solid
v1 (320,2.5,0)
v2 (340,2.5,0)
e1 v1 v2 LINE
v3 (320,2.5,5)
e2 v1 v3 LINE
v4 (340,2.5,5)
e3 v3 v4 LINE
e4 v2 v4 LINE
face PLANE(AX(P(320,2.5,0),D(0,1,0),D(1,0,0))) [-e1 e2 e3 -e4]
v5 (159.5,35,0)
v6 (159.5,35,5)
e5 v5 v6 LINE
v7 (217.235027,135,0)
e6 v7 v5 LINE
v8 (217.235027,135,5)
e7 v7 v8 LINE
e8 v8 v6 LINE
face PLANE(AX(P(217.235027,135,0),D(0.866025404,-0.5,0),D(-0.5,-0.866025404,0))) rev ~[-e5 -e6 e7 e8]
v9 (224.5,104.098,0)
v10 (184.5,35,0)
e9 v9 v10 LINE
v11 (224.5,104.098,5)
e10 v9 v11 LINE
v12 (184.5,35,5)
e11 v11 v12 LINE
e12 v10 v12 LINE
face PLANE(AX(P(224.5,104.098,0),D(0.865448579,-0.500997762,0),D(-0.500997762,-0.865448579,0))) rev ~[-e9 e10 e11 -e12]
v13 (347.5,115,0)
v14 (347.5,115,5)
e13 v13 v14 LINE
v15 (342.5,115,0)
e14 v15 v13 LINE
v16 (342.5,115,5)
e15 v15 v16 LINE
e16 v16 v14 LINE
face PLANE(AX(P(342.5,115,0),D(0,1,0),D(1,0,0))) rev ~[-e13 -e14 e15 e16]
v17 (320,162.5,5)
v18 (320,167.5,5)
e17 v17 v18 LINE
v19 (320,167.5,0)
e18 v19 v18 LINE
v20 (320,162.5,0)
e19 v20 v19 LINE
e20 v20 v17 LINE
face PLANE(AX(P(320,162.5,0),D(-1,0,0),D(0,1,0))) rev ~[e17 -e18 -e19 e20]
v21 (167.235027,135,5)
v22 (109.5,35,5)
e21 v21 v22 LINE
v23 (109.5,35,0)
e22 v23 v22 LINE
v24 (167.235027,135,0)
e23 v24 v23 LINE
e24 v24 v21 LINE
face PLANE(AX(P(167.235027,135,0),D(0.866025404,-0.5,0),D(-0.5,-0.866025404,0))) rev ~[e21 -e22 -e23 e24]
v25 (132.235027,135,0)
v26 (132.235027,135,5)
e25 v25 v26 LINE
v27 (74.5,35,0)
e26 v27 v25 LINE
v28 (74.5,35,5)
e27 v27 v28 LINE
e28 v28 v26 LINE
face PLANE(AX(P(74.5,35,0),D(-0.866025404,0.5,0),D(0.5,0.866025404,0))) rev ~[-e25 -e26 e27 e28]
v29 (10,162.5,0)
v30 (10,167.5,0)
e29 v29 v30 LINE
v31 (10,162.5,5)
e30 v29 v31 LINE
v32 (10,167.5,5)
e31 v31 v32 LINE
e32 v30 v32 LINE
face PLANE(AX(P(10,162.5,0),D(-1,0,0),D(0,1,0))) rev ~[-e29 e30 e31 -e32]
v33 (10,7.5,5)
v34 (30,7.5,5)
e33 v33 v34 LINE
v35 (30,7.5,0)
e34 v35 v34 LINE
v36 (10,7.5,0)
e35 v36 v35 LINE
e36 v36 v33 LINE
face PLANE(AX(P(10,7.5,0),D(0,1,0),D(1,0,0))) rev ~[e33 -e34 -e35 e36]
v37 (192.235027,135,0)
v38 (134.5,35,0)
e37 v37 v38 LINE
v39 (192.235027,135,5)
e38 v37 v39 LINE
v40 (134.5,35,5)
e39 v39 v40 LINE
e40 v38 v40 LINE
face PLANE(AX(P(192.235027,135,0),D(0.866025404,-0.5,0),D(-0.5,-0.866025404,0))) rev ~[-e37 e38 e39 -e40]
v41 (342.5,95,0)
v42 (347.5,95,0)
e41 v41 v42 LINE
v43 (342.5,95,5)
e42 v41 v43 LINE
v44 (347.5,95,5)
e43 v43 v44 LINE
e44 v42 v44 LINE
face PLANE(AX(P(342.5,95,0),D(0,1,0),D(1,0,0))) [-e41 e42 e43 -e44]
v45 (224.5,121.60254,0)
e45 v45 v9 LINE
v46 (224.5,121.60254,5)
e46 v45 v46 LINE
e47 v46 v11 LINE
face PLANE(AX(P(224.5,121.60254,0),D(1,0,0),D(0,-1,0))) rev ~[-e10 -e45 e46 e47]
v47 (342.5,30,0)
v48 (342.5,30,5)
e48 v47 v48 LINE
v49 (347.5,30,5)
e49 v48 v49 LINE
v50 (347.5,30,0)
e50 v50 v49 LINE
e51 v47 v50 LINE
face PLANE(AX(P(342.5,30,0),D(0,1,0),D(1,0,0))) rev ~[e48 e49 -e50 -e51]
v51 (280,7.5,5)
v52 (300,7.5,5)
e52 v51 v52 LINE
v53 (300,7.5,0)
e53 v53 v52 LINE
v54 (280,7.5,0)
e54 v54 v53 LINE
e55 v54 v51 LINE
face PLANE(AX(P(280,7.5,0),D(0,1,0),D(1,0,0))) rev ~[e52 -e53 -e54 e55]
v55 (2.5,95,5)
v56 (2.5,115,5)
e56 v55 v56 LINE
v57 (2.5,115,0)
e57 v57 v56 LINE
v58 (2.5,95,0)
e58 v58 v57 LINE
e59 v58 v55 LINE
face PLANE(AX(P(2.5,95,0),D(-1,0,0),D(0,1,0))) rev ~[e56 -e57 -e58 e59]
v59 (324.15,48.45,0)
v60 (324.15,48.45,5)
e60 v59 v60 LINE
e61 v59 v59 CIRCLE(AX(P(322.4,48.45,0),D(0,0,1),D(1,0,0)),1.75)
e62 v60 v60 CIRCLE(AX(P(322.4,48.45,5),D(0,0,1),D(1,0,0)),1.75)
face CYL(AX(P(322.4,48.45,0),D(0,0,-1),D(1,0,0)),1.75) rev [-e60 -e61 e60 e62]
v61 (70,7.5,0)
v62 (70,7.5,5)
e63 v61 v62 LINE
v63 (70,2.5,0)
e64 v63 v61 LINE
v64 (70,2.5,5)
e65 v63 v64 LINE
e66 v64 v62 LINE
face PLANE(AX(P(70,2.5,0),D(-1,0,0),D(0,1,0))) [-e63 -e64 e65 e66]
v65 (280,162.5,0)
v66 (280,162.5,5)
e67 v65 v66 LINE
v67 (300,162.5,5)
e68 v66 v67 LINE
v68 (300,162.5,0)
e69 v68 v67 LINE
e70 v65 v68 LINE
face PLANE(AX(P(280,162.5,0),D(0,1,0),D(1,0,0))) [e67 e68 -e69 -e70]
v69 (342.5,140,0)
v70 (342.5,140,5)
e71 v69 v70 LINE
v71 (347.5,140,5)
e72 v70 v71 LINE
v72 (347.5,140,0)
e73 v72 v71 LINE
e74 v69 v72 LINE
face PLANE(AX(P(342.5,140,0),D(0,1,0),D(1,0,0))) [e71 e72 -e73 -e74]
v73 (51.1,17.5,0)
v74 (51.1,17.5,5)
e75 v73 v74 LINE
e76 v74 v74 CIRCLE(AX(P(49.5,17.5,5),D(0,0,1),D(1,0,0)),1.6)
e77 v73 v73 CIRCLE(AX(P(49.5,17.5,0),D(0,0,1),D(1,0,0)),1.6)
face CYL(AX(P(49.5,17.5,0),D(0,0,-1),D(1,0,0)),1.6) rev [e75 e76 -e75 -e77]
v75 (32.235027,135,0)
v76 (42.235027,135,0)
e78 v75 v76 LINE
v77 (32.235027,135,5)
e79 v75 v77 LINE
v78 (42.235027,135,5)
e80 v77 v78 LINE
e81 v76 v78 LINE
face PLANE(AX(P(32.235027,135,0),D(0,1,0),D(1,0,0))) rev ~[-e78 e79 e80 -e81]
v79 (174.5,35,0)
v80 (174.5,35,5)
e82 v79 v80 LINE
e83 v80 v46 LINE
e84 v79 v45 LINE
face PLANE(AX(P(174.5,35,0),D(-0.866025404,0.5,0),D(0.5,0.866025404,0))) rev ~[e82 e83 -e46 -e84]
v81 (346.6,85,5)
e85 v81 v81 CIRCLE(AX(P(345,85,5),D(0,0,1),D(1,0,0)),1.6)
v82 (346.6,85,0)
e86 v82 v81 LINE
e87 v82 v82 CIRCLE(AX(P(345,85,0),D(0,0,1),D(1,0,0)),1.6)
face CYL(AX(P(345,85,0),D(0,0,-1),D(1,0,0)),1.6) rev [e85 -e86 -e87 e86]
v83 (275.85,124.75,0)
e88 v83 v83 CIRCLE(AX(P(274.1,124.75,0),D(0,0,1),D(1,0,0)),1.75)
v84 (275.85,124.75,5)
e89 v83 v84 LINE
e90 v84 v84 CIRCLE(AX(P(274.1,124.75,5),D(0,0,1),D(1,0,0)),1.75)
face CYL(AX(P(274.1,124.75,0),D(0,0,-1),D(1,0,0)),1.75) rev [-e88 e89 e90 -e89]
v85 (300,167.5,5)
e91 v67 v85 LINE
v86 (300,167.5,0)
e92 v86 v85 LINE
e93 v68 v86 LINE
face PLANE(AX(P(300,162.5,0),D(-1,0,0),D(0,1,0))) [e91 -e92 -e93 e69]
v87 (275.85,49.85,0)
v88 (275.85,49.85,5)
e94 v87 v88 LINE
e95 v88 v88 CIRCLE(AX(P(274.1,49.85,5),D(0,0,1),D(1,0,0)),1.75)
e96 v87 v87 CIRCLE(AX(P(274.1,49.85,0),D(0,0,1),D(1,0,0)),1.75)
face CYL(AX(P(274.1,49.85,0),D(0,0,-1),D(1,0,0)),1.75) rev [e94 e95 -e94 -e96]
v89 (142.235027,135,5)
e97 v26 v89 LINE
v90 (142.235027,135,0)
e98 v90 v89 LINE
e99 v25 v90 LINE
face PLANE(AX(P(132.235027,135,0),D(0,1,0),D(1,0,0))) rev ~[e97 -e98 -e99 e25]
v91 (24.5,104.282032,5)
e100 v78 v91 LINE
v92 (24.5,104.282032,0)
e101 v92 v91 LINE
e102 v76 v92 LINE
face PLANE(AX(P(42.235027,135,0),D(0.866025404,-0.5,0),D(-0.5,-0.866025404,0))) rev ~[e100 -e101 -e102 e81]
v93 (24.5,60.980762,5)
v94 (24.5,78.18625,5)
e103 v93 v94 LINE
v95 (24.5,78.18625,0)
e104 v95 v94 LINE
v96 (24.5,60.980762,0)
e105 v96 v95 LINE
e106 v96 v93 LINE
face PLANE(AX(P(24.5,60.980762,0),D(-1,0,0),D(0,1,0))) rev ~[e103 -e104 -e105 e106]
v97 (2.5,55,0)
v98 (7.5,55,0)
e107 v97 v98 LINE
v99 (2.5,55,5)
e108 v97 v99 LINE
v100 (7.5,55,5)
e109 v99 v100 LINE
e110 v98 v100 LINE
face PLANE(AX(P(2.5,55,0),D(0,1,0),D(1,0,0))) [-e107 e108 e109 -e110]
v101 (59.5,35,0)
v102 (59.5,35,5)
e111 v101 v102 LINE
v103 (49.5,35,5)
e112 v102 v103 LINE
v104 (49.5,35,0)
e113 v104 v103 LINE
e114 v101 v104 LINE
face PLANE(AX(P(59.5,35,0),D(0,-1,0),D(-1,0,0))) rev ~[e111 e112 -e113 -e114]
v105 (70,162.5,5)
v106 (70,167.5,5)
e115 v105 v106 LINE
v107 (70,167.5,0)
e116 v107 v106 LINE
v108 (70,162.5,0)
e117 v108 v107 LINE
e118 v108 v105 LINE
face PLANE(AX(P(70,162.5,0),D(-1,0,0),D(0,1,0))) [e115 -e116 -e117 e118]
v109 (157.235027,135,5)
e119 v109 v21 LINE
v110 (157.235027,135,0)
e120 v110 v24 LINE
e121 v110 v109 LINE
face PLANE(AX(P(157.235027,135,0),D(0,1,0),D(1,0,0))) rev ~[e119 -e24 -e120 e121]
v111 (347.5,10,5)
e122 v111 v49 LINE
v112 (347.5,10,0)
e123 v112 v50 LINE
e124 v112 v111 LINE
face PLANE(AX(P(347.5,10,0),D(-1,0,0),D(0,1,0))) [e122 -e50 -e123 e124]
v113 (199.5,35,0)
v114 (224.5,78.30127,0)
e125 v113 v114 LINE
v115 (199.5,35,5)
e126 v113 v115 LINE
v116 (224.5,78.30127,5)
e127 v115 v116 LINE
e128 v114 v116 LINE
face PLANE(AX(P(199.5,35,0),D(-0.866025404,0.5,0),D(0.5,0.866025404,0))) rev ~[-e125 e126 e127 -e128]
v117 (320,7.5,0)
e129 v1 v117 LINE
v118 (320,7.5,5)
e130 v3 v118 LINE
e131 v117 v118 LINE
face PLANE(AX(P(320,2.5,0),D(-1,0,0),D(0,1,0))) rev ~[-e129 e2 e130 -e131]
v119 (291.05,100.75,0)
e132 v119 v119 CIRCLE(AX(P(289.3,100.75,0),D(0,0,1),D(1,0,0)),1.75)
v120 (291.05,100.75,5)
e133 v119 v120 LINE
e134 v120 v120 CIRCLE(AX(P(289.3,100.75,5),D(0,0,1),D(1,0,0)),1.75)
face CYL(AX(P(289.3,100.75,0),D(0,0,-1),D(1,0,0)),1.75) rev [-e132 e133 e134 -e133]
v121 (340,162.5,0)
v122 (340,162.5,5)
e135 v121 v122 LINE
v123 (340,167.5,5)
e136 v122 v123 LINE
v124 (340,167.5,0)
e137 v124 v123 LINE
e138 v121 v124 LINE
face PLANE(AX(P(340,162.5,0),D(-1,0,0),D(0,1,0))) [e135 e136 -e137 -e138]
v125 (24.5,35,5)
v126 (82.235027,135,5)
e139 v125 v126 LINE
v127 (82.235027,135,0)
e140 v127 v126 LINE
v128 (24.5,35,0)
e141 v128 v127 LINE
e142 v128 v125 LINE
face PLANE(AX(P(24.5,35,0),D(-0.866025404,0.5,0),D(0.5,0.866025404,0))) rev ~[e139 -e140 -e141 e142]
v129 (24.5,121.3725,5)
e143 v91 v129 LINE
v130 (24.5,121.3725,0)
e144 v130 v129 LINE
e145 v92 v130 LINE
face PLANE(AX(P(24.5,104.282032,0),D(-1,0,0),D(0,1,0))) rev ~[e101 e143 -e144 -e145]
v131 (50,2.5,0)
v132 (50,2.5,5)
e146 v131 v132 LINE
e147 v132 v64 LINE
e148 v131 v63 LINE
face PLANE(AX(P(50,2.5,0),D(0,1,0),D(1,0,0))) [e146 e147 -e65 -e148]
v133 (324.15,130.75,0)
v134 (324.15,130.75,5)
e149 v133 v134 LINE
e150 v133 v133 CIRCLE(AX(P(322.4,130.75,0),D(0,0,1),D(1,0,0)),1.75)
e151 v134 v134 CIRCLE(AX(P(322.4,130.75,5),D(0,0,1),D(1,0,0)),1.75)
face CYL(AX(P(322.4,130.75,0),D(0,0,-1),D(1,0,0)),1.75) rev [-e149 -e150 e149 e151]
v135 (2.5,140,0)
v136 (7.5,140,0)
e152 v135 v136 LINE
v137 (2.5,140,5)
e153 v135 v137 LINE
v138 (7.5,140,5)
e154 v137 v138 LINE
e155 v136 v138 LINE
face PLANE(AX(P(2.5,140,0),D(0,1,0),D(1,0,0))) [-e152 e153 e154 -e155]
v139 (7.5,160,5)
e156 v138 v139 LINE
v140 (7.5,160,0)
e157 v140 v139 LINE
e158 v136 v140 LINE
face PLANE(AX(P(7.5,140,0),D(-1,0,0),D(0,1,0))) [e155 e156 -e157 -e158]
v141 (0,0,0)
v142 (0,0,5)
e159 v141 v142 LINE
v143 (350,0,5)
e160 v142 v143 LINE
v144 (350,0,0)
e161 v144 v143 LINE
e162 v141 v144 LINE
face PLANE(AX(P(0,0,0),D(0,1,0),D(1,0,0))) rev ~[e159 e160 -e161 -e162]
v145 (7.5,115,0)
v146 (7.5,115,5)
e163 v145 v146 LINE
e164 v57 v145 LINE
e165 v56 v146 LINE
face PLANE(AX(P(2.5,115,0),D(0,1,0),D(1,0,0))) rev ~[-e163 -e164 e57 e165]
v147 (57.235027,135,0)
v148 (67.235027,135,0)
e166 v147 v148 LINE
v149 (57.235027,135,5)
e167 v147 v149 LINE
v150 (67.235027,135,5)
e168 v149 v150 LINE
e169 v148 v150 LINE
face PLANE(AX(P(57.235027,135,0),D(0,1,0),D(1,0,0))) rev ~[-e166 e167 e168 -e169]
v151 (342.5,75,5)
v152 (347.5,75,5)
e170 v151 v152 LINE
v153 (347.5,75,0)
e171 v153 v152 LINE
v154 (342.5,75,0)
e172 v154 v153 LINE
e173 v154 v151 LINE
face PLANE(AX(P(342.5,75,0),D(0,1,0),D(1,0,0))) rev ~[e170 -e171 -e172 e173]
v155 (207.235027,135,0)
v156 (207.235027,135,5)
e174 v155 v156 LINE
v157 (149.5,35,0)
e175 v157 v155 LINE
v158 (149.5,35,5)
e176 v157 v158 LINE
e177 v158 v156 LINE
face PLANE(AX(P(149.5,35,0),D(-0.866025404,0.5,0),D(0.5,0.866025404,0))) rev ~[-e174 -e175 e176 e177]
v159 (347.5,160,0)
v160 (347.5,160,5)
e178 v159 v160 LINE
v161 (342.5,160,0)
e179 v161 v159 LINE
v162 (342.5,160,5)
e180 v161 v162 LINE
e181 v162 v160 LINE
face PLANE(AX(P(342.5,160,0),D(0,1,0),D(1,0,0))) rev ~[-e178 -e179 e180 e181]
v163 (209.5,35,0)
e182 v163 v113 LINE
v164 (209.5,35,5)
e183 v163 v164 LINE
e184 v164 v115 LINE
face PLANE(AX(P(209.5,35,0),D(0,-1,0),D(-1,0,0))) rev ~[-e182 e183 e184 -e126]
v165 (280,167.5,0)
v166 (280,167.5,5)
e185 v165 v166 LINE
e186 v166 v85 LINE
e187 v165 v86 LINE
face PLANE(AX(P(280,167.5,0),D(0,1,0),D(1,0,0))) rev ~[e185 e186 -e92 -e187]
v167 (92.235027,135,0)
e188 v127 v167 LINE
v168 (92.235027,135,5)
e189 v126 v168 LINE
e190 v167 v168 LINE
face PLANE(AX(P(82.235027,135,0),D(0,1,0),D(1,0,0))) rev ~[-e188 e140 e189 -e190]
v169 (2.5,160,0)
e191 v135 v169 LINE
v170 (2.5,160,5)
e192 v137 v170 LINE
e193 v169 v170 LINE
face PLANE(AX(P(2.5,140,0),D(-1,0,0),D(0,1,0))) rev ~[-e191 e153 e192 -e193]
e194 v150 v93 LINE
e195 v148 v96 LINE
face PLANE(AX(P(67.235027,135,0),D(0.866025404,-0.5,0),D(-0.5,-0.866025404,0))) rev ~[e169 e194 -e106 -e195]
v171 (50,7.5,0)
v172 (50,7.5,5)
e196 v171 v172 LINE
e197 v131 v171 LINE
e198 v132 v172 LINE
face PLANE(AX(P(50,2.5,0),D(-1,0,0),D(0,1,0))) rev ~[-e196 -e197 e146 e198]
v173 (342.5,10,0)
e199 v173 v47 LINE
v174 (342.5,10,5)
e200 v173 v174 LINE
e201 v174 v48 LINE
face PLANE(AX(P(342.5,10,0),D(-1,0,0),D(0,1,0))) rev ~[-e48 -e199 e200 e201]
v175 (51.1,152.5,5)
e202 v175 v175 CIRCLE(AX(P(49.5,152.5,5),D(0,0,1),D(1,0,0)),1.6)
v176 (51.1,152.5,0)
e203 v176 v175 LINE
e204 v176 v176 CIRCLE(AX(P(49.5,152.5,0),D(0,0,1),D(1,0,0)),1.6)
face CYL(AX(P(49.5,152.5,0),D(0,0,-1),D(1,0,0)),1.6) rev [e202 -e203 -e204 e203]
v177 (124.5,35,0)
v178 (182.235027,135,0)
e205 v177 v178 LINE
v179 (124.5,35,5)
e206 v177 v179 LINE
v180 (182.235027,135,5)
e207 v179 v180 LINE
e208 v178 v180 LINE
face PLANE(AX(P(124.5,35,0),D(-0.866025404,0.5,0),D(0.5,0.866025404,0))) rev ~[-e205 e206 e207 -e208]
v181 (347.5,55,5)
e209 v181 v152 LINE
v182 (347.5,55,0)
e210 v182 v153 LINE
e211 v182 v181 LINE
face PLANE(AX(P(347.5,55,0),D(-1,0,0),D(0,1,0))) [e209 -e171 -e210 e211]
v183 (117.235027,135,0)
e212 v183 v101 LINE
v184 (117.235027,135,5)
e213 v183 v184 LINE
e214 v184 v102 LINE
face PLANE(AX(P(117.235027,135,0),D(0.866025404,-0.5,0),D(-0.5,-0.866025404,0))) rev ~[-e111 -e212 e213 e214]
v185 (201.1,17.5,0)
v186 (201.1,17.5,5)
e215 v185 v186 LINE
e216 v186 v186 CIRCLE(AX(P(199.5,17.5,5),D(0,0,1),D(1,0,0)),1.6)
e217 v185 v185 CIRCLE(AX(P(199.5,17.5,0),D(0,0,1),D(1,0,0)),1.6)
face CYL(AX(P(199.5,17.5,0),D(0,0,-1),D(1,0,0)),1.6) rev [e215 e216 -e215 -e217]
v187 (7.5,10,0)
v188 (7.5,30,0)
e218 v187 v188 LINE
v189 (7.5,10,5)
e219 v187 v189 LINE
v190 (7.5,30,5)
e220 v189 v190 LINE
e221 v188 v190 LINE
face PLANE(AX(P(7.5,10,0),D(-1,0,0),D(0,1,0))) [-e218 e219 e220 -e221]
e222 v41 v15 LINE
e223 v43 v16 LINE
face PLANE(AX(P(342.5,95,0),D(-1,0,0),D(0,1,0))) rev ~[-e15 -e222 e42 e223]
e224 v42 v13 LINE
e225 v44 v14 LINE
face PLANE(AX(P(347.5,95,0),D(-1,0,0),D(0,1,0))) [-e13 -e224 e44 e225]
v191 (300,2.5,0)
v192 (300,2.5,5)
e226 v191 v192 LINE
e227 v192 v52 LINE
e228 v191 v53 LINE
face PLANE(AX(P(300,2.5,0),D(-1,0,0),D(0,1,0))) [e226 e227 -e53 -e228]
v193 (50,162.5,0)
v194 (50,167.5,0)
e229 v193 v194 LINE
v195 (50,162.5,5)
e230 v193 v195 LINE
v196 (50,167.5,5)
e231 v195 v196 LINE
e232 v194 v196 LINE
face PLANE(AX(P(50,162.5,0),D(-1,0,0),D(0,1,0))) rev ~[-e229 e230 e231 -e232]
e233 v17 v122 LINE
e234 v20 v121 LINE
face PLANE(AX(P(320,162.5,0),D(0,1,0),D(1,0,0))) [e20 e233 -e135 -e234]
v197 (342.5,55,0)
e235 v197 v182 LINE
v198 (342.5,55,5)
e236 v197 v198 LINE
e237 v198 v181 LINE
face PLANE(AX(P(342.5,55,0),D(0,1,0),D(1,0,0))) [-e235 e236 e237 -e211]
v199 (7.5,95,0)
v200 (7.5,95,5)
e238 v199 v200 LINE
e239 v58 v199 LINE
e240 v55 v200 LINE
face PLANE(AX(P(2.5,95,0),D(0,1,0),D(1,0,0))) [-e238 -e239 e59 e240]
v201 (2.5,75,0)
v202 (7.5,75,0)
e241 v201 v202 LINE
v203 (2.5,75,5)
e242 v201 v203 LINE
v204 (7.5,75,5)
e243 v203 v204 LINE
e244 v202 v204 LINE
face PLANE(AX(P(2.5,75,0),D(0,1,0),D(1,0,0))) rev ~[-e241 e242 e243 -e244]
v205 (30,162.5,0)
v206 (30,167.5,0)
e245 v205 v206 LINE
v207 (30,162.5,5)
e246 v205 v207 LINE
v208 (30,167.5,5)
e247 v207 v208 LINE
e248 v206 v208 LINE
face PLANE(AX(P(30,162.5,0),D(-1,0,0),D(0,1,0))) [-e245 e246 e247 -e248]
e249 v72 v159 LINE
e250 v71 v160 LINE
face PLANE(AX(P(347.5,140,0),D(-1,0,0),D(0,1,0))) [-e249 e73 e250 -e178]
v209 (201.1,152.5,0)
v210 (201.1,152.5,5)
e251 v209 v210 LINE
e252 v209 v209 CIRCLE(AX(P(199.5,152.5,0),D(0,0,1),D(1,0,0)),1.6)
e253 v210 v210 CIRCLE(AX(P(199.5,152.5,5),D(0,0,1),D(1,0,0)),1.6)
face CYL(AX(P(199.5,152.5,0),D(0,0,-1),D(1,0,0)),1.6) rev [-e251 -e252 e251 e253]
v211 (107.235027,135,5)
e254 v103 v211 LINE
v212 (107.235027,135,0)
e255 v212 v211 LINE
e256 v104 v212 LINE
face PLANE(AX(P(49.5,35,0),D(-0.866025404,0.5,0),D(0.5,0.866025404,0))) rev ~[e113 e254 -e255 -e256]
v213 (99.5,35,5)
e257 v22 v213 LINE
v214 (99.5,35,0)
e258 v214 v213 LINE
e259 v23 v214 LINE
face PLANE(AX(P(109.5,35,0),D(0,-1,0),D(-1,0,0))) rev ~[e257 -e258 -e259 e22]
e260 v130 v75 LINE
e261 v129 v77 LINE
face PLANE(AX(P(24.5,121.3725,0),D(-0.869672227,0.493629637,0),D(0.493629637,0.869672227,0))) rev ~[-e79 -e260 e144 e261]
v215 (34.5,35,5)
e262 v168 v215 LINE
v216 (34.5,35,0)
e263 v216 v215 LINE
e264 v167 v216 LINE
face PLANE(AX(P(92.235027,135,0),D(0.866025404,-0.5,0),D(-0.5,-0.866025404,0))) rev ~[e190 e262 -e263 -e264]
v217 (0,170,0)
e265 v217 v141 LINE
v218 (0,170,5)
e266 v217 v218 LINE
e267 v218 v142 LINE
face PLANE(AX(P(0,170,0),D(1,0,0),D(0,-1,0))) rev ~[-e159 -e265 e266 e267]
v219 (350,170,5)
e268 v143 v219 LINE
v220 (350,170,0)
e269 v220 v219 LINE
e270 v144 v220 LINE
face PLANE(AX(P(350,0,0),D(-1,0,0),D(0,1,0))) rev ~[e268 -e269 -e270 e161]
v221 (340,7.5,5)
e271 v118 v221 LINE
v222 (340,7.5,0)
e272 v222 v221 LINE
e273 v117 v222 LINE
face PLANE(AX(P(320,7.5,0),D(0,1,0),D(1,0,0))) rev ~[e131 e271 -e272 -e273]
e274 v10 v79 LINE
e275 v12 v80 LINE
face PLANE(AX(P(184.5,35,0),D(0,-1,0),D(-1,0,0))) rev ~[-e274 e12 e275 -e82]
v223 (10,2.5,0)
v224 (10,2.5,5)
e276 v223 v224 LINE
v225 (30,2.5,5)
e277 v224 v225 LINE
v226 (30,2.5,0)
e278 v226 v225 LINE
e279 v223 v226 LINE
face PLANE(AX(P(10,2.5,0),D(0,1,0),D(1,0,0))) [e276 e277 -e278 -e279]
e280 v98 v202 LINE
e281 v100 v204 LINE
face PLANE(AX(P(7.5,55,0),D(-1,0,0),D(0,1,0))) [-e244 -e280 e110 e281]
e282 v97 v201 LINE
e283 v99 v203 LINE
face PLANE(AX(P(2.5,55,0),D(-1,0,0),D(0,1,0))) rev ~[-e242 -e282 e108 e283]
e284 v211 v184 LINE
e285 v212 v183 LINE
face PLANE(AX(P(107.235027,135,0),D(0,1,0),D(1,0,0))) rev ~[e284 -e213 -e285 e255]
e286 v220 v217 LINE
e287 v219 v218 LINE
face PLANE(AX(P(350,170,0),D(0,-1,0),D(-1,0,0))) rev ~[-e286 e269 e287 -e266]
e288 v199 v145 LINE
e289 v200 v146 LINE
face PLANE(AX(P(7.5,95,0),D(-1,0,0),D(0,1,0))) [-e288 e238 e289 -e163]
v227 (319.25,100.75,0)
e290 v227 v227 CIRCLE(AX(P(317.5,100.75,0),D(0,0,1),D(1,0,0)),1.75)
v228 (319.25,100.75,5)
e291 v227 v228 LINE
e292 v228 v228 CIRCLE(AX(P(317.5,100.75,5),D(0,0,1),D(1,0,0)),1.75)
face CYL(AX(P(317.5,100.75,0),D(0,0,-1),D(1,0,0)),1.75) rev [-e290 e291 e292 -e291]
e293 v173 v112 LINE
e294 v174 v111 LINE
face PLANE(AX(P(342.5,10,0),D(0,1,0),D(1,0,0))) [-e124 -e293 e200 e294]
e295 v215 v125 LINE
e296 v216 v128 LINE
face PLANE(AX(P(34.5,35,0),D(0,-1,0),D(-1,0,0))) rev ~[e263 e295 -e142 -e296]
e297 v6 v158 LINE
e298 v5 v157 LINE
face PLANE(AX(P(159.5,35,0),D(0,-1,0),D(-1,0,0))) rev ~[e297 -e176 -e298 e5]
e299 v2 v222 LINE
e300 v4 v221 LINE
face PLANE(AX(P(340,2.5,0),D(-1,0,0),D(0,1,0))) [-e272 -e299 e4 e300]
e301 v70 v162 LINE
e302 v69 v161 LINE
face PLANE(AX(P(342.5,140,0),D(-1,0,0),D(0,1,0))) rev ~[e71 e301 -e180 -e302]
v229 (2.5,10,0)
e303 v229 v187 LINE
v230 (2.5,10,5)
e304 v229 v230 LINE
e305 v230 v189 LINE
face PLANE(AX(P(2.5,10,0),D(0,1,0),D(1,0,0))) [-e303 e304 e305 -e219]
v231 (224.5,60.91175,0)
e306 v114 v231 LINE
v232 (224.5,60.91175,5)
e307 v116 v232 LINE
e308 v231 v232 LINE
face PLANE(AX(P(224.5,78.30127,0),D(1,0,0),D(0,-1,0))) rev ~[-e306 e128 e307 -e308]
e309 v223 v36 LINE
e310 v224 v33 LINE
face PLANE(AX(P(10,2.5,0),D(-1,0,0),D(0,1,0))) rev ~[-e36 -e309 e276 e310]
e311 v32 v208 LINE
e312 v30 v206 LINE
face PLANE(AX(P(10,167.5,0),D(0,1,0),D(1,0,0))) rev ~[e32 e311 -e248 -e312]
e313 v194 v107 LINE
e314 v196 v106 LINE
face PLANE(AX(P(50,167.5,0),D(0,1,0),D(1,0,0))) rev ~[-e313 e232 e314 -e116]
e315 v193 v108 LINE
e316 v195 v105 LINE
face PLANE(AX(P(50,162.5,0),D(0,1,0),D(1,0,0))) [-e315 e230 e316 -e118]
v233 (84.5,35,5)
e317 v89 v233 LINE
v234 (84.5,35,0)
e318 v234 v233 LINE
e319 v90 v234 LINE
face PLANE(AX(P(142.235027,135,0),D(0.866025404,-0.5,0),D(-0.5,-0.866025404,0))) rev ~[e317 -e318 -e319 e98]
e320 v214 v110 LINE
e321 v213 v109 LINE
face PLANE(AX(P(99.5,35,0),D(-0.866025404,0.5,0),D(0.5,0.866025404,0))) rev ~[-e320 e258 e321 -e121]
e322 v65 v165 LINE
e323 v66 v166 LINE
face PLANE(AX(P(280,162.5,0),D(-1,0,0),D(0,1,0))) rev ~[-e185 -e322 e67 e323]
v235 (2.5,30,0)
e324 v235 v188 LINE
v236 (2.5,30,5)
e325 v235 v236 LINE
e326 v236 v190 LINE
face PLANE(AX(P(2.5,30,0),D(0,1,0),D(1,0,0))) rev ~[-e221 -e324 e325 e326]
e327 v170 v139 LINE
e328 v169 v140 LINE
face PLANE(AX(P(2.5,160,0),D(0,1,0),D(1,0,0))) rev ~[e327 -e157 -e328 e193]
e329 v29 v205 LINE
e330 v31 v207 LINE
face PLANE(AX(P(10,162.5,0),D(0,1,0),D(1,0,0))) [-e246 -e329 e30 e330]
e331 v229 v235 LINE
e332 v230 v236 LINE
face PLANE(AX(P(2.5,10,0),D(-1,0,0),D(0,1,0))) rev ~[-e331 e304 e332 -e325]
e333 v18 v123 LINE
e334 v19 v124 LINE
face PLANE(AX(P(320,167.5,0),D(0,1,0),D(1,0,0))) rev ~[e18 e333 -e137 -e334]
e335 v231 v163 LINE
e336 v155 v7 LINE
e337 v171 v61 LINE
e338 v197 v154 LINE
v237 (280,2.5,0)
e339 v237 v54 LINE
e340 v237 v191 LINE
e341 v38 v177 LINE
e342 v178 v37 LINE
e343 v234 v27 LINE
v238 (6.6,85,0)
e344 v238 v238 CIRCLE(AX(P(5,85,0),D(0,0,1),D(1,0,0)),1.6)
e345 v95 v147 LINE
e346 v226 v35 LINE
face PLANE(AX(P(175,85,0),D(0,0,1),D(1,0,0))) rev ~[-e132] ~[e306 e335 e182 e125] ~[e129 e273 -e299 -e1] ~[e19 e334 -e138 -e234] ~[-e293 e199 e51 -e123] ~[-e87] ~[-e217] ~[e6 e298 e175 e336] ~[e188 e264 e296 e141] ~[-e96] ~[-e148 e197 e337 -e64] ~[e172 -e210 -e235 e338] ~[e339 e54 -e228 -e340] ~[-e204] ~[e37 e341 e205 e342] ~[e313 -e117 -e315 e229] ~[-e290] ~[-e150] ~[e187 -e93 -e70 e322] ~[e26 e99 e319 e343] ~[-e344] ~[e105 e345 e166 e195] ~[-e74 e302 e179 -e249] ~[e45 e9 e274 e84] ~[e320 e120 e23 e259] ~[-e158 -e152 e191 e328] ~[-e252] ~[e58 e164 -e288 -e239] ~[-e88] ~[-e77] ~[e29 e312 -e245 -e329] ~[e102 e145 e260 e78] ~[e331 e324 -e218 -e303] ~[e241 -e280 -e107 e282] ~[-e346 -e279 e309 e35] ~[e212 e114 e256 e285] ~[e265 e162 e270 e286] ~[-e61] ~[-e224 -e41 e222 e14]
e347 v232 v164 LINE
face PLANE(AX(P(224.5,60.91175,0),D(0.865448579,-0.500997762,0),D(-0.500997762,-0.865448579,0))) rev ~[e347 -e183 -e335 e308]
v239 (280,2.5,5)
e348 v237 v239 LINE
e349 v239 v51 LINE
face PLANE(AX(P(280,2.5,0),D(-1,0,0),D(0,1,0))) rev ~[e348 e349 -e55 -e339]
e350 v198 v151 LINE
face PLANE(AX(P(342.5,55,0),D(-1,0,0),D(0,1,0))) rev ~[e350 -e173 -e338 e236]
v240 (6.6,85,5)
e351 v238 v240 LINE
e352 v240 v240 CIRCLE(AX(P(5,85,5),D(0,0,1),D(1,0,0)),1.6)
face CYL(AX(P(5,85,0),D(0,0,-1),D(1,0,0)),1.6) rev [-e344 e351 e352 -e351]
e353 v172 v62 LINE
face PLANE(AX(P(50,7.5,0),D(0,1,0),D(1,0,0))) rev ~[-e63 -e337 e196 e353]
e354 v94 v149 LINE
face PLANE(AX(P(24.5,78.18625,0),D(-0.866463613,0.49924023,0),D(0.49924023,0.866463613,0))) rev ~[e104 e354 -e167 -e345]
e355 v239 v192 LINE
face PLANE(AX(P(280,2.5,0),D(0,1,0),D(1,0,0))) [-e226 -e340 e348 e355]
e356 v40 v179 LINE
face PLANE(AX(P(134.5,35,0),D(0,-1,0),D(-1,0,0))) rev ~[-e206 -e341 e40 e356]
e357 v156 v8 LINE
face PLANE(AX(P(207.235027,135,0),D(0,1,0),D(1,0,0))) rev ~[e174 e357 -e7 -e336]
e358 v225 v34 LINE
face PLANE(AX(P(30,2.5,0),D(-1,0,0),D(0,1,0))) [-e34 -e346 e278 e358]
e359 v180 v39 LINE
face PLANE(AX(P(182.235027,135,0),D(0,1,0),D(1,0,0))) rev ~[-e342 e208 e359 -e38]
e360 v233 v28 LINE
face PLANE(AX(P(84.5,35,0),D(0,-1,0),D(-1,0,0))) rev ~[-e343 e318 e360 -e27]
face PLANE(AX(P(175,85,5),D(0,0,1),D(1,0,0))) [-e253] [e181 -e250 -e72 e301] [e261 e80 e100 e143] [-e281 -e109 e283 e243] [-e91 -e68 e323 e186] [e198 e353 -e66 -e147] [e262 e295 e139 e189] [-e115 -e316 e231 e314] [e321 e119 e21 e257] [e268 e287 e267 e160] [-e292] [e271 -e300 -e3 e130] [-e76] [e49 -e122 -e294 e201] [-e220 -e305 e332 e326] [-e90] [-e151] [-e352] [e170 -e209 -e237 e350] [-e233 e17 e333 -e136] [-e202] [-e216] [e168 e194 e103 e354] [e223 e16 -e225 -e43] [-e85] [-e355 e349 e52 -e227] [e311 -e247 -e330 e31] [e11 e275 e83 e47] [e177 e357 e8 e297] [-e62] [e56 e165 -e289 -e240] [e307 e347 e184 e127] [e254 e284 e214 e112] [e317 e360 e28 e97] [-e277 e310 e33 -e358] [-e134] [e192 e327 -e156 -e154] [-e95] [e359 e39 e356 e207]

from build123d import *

# Parameters (mm, degrees)
F1_W     = 20
F1_H     = 5
F1_W_2   = 5
F1_H_2   = 20
F1_R     = 1.6
F1_R_2   = 1.75
F2_DEPTH = 5


with BuildPart() as f2:
    # F1 (on Top) → F2 (new body)
    with BuildSketch(Plane.XY):
        Polygon((0, 35), (0, 0), (350, 0), (350, 170), (0, 170), align=None)
        with Locations((20, 5)):
            Rectangle(F1_W, F1_H, mode=Mode.SUBTRACT)
        with Locations((5, 20)):
            Rectangle(F1_W_2, F1_H_2, mode=Mode.SUBTRACT)
        with Locations((60, 5)):
            Rectangle(F1_W, F1_H, mode=Mode.SUBTRACT)
        with Locations((49.5, 17.5)):
            Circle(F1_R, mode=Mode.SUBTRACT)
        with Locations((5, 65)):
            Rectangle(F1_W_2, F1_H_2, mode=Mode.SUBTRACT)
        with Locations((199.5, 17.5)):
            Circle(F1_R, mode=Mode.SUBTRACT)
        with Locations((290, 5)):
            Rectangle(F1_W, F1_H, mode=Mode.SUBTRACT)
        with Locations((330, 5)):
            Rectangle(F1_W, F1_H, mode=Mode.SUBTRACT)
        with Locations((345, 20)):
            Rectangle(F1_W_2, F1_H_2, mode=Mode.SUBTRACT)
        Polygon((209.5, 35), (199.5, 35), (224.5, 78.3012701892), (224.5, 60.9117498708), align=None, mode=Mode.SUBTRACT)
        Polygon((184.5, 35), (174.5, 35), (224.5, 121.6025403784), (224.5, 104.0979996554), align=None, mode=Mode.SUBTRACT)
        with Locations((274.1, 49.85)):
            Circle(F1_R_2, mode=Mode.SUBTRACT)
        with Locations((322.4, 48.45)):
            Circle(F1_R_2, mode=Mode.SUBTRACT)
        with Locations((345, 65)):
            Rectangle(F1_W_2, F1_H_2, mode=Mode.SUBTRACT)
        with Locations((5, 85)):
            Circle(F1_R, mode=Mode.SUBTRACT)
        with Locations((5, 105)):
            Rectangle(F1_W_2, F1_H_2, mode=Mode.SUBTRACT)
        Polygon((34.5, 35), (24.5, 35), (82.235026919, 135), (92.235026919, 135), align=None, mode=Mode.SUBTRACT)
        Polygon((59.5, 35), (49.5, 35), (107.235026919, 135), (117.235026919, 135), align=None, mode=Mode.SUBTRACT)
        Polygon((57.235026919, 135), (67.235026919, 135), (24.5, 60.9807621135), (24.5, 78.1862497847), align=None, mode=Mode.SUBTRACT)
        Polygon((32.235026919, 135), (42.235026919, 135), (24.5, 104.2820323028), (24.5, 121.3724995693), align=None, mode=Mode.SUBTRACT)
        Polygon((84.5, 35), (74.5, 35), (132.235026919, 135), (142.235026919, 135), align=None, mode=Mode.SUBTRACT)
        Polygon((109.5, 35), (99.5, 35), (157.235026919, 135), (167.235026919, 135), align=None, mode=Mode.SUBTRACT)
        Polygon((134.5, 35), (124.5, 35), (182.235026919, 135), (192.235026919, 135), align=None, mode=Mode.SUBTRACT)
        with Locations((5, 150)):
            Rectangle(F1_W_2, F1_H_2, mode=Mode.SUBTRACT)
        with Locations((20, 165)):
            Rectangle(F1_W, F1_H, mode=Mode.SUBTRACT)
        with Locations((49.5, 152.5)):
            Circle(F1_R, mode=Mode.SUBTRACT)
        with Locations((60, 165)):
            Rectangle(F1_W, F1_H, mode=Mode.SUBTRACT)
        Polygon((159.5, 35), (149.5, 35), (207.235026919, 135), (217.235026919, 135), align=None, mode=Mode.SUBTRACT)
        with Locations((289.3, 100.75)):
            Circle(F1_R_2, mode=Mode.SUBTRACT)
        with Locations((345, 85)):
            Circle(F1_R, mode=Mode.SUBTRACT)
        with Locations((317.5, 100.75)):
            Circle(F1_R_2, mode=Mode.SUBTRACT)
        with Locations((345, 105)):
            Rectangle(F1_W_2, F1_H_2, mode=Mode.SUBTRACT)
        with Locations((274.1, 124.75)):
            Circle(F1_R_2, mode=Mode.SUBTRACT)
        with Locations((199.5, 152.5)):
            Circle(F1_R, mode=Mode.SUBTRACT)
        with Locations((322.4, 130.75)):
            Circle(F1_R_2, mode=Mode.SUBTRACT)
        with Locations((290, 165)):
            Rectangle(F1_W, F1_H, mode=Mode.SUBTRACT)
        with Locations((345, 150)):
            Rectangle(F1_W_2, F1_H_2, mode=Mode.SUBTRACT)
        with Locations((330, 165)):
            Rectangle(F1_W, F1_H, mode=Mode.SUBTRACT)
    extrude(amount=F2_DEPTH)


solid = f2.part
